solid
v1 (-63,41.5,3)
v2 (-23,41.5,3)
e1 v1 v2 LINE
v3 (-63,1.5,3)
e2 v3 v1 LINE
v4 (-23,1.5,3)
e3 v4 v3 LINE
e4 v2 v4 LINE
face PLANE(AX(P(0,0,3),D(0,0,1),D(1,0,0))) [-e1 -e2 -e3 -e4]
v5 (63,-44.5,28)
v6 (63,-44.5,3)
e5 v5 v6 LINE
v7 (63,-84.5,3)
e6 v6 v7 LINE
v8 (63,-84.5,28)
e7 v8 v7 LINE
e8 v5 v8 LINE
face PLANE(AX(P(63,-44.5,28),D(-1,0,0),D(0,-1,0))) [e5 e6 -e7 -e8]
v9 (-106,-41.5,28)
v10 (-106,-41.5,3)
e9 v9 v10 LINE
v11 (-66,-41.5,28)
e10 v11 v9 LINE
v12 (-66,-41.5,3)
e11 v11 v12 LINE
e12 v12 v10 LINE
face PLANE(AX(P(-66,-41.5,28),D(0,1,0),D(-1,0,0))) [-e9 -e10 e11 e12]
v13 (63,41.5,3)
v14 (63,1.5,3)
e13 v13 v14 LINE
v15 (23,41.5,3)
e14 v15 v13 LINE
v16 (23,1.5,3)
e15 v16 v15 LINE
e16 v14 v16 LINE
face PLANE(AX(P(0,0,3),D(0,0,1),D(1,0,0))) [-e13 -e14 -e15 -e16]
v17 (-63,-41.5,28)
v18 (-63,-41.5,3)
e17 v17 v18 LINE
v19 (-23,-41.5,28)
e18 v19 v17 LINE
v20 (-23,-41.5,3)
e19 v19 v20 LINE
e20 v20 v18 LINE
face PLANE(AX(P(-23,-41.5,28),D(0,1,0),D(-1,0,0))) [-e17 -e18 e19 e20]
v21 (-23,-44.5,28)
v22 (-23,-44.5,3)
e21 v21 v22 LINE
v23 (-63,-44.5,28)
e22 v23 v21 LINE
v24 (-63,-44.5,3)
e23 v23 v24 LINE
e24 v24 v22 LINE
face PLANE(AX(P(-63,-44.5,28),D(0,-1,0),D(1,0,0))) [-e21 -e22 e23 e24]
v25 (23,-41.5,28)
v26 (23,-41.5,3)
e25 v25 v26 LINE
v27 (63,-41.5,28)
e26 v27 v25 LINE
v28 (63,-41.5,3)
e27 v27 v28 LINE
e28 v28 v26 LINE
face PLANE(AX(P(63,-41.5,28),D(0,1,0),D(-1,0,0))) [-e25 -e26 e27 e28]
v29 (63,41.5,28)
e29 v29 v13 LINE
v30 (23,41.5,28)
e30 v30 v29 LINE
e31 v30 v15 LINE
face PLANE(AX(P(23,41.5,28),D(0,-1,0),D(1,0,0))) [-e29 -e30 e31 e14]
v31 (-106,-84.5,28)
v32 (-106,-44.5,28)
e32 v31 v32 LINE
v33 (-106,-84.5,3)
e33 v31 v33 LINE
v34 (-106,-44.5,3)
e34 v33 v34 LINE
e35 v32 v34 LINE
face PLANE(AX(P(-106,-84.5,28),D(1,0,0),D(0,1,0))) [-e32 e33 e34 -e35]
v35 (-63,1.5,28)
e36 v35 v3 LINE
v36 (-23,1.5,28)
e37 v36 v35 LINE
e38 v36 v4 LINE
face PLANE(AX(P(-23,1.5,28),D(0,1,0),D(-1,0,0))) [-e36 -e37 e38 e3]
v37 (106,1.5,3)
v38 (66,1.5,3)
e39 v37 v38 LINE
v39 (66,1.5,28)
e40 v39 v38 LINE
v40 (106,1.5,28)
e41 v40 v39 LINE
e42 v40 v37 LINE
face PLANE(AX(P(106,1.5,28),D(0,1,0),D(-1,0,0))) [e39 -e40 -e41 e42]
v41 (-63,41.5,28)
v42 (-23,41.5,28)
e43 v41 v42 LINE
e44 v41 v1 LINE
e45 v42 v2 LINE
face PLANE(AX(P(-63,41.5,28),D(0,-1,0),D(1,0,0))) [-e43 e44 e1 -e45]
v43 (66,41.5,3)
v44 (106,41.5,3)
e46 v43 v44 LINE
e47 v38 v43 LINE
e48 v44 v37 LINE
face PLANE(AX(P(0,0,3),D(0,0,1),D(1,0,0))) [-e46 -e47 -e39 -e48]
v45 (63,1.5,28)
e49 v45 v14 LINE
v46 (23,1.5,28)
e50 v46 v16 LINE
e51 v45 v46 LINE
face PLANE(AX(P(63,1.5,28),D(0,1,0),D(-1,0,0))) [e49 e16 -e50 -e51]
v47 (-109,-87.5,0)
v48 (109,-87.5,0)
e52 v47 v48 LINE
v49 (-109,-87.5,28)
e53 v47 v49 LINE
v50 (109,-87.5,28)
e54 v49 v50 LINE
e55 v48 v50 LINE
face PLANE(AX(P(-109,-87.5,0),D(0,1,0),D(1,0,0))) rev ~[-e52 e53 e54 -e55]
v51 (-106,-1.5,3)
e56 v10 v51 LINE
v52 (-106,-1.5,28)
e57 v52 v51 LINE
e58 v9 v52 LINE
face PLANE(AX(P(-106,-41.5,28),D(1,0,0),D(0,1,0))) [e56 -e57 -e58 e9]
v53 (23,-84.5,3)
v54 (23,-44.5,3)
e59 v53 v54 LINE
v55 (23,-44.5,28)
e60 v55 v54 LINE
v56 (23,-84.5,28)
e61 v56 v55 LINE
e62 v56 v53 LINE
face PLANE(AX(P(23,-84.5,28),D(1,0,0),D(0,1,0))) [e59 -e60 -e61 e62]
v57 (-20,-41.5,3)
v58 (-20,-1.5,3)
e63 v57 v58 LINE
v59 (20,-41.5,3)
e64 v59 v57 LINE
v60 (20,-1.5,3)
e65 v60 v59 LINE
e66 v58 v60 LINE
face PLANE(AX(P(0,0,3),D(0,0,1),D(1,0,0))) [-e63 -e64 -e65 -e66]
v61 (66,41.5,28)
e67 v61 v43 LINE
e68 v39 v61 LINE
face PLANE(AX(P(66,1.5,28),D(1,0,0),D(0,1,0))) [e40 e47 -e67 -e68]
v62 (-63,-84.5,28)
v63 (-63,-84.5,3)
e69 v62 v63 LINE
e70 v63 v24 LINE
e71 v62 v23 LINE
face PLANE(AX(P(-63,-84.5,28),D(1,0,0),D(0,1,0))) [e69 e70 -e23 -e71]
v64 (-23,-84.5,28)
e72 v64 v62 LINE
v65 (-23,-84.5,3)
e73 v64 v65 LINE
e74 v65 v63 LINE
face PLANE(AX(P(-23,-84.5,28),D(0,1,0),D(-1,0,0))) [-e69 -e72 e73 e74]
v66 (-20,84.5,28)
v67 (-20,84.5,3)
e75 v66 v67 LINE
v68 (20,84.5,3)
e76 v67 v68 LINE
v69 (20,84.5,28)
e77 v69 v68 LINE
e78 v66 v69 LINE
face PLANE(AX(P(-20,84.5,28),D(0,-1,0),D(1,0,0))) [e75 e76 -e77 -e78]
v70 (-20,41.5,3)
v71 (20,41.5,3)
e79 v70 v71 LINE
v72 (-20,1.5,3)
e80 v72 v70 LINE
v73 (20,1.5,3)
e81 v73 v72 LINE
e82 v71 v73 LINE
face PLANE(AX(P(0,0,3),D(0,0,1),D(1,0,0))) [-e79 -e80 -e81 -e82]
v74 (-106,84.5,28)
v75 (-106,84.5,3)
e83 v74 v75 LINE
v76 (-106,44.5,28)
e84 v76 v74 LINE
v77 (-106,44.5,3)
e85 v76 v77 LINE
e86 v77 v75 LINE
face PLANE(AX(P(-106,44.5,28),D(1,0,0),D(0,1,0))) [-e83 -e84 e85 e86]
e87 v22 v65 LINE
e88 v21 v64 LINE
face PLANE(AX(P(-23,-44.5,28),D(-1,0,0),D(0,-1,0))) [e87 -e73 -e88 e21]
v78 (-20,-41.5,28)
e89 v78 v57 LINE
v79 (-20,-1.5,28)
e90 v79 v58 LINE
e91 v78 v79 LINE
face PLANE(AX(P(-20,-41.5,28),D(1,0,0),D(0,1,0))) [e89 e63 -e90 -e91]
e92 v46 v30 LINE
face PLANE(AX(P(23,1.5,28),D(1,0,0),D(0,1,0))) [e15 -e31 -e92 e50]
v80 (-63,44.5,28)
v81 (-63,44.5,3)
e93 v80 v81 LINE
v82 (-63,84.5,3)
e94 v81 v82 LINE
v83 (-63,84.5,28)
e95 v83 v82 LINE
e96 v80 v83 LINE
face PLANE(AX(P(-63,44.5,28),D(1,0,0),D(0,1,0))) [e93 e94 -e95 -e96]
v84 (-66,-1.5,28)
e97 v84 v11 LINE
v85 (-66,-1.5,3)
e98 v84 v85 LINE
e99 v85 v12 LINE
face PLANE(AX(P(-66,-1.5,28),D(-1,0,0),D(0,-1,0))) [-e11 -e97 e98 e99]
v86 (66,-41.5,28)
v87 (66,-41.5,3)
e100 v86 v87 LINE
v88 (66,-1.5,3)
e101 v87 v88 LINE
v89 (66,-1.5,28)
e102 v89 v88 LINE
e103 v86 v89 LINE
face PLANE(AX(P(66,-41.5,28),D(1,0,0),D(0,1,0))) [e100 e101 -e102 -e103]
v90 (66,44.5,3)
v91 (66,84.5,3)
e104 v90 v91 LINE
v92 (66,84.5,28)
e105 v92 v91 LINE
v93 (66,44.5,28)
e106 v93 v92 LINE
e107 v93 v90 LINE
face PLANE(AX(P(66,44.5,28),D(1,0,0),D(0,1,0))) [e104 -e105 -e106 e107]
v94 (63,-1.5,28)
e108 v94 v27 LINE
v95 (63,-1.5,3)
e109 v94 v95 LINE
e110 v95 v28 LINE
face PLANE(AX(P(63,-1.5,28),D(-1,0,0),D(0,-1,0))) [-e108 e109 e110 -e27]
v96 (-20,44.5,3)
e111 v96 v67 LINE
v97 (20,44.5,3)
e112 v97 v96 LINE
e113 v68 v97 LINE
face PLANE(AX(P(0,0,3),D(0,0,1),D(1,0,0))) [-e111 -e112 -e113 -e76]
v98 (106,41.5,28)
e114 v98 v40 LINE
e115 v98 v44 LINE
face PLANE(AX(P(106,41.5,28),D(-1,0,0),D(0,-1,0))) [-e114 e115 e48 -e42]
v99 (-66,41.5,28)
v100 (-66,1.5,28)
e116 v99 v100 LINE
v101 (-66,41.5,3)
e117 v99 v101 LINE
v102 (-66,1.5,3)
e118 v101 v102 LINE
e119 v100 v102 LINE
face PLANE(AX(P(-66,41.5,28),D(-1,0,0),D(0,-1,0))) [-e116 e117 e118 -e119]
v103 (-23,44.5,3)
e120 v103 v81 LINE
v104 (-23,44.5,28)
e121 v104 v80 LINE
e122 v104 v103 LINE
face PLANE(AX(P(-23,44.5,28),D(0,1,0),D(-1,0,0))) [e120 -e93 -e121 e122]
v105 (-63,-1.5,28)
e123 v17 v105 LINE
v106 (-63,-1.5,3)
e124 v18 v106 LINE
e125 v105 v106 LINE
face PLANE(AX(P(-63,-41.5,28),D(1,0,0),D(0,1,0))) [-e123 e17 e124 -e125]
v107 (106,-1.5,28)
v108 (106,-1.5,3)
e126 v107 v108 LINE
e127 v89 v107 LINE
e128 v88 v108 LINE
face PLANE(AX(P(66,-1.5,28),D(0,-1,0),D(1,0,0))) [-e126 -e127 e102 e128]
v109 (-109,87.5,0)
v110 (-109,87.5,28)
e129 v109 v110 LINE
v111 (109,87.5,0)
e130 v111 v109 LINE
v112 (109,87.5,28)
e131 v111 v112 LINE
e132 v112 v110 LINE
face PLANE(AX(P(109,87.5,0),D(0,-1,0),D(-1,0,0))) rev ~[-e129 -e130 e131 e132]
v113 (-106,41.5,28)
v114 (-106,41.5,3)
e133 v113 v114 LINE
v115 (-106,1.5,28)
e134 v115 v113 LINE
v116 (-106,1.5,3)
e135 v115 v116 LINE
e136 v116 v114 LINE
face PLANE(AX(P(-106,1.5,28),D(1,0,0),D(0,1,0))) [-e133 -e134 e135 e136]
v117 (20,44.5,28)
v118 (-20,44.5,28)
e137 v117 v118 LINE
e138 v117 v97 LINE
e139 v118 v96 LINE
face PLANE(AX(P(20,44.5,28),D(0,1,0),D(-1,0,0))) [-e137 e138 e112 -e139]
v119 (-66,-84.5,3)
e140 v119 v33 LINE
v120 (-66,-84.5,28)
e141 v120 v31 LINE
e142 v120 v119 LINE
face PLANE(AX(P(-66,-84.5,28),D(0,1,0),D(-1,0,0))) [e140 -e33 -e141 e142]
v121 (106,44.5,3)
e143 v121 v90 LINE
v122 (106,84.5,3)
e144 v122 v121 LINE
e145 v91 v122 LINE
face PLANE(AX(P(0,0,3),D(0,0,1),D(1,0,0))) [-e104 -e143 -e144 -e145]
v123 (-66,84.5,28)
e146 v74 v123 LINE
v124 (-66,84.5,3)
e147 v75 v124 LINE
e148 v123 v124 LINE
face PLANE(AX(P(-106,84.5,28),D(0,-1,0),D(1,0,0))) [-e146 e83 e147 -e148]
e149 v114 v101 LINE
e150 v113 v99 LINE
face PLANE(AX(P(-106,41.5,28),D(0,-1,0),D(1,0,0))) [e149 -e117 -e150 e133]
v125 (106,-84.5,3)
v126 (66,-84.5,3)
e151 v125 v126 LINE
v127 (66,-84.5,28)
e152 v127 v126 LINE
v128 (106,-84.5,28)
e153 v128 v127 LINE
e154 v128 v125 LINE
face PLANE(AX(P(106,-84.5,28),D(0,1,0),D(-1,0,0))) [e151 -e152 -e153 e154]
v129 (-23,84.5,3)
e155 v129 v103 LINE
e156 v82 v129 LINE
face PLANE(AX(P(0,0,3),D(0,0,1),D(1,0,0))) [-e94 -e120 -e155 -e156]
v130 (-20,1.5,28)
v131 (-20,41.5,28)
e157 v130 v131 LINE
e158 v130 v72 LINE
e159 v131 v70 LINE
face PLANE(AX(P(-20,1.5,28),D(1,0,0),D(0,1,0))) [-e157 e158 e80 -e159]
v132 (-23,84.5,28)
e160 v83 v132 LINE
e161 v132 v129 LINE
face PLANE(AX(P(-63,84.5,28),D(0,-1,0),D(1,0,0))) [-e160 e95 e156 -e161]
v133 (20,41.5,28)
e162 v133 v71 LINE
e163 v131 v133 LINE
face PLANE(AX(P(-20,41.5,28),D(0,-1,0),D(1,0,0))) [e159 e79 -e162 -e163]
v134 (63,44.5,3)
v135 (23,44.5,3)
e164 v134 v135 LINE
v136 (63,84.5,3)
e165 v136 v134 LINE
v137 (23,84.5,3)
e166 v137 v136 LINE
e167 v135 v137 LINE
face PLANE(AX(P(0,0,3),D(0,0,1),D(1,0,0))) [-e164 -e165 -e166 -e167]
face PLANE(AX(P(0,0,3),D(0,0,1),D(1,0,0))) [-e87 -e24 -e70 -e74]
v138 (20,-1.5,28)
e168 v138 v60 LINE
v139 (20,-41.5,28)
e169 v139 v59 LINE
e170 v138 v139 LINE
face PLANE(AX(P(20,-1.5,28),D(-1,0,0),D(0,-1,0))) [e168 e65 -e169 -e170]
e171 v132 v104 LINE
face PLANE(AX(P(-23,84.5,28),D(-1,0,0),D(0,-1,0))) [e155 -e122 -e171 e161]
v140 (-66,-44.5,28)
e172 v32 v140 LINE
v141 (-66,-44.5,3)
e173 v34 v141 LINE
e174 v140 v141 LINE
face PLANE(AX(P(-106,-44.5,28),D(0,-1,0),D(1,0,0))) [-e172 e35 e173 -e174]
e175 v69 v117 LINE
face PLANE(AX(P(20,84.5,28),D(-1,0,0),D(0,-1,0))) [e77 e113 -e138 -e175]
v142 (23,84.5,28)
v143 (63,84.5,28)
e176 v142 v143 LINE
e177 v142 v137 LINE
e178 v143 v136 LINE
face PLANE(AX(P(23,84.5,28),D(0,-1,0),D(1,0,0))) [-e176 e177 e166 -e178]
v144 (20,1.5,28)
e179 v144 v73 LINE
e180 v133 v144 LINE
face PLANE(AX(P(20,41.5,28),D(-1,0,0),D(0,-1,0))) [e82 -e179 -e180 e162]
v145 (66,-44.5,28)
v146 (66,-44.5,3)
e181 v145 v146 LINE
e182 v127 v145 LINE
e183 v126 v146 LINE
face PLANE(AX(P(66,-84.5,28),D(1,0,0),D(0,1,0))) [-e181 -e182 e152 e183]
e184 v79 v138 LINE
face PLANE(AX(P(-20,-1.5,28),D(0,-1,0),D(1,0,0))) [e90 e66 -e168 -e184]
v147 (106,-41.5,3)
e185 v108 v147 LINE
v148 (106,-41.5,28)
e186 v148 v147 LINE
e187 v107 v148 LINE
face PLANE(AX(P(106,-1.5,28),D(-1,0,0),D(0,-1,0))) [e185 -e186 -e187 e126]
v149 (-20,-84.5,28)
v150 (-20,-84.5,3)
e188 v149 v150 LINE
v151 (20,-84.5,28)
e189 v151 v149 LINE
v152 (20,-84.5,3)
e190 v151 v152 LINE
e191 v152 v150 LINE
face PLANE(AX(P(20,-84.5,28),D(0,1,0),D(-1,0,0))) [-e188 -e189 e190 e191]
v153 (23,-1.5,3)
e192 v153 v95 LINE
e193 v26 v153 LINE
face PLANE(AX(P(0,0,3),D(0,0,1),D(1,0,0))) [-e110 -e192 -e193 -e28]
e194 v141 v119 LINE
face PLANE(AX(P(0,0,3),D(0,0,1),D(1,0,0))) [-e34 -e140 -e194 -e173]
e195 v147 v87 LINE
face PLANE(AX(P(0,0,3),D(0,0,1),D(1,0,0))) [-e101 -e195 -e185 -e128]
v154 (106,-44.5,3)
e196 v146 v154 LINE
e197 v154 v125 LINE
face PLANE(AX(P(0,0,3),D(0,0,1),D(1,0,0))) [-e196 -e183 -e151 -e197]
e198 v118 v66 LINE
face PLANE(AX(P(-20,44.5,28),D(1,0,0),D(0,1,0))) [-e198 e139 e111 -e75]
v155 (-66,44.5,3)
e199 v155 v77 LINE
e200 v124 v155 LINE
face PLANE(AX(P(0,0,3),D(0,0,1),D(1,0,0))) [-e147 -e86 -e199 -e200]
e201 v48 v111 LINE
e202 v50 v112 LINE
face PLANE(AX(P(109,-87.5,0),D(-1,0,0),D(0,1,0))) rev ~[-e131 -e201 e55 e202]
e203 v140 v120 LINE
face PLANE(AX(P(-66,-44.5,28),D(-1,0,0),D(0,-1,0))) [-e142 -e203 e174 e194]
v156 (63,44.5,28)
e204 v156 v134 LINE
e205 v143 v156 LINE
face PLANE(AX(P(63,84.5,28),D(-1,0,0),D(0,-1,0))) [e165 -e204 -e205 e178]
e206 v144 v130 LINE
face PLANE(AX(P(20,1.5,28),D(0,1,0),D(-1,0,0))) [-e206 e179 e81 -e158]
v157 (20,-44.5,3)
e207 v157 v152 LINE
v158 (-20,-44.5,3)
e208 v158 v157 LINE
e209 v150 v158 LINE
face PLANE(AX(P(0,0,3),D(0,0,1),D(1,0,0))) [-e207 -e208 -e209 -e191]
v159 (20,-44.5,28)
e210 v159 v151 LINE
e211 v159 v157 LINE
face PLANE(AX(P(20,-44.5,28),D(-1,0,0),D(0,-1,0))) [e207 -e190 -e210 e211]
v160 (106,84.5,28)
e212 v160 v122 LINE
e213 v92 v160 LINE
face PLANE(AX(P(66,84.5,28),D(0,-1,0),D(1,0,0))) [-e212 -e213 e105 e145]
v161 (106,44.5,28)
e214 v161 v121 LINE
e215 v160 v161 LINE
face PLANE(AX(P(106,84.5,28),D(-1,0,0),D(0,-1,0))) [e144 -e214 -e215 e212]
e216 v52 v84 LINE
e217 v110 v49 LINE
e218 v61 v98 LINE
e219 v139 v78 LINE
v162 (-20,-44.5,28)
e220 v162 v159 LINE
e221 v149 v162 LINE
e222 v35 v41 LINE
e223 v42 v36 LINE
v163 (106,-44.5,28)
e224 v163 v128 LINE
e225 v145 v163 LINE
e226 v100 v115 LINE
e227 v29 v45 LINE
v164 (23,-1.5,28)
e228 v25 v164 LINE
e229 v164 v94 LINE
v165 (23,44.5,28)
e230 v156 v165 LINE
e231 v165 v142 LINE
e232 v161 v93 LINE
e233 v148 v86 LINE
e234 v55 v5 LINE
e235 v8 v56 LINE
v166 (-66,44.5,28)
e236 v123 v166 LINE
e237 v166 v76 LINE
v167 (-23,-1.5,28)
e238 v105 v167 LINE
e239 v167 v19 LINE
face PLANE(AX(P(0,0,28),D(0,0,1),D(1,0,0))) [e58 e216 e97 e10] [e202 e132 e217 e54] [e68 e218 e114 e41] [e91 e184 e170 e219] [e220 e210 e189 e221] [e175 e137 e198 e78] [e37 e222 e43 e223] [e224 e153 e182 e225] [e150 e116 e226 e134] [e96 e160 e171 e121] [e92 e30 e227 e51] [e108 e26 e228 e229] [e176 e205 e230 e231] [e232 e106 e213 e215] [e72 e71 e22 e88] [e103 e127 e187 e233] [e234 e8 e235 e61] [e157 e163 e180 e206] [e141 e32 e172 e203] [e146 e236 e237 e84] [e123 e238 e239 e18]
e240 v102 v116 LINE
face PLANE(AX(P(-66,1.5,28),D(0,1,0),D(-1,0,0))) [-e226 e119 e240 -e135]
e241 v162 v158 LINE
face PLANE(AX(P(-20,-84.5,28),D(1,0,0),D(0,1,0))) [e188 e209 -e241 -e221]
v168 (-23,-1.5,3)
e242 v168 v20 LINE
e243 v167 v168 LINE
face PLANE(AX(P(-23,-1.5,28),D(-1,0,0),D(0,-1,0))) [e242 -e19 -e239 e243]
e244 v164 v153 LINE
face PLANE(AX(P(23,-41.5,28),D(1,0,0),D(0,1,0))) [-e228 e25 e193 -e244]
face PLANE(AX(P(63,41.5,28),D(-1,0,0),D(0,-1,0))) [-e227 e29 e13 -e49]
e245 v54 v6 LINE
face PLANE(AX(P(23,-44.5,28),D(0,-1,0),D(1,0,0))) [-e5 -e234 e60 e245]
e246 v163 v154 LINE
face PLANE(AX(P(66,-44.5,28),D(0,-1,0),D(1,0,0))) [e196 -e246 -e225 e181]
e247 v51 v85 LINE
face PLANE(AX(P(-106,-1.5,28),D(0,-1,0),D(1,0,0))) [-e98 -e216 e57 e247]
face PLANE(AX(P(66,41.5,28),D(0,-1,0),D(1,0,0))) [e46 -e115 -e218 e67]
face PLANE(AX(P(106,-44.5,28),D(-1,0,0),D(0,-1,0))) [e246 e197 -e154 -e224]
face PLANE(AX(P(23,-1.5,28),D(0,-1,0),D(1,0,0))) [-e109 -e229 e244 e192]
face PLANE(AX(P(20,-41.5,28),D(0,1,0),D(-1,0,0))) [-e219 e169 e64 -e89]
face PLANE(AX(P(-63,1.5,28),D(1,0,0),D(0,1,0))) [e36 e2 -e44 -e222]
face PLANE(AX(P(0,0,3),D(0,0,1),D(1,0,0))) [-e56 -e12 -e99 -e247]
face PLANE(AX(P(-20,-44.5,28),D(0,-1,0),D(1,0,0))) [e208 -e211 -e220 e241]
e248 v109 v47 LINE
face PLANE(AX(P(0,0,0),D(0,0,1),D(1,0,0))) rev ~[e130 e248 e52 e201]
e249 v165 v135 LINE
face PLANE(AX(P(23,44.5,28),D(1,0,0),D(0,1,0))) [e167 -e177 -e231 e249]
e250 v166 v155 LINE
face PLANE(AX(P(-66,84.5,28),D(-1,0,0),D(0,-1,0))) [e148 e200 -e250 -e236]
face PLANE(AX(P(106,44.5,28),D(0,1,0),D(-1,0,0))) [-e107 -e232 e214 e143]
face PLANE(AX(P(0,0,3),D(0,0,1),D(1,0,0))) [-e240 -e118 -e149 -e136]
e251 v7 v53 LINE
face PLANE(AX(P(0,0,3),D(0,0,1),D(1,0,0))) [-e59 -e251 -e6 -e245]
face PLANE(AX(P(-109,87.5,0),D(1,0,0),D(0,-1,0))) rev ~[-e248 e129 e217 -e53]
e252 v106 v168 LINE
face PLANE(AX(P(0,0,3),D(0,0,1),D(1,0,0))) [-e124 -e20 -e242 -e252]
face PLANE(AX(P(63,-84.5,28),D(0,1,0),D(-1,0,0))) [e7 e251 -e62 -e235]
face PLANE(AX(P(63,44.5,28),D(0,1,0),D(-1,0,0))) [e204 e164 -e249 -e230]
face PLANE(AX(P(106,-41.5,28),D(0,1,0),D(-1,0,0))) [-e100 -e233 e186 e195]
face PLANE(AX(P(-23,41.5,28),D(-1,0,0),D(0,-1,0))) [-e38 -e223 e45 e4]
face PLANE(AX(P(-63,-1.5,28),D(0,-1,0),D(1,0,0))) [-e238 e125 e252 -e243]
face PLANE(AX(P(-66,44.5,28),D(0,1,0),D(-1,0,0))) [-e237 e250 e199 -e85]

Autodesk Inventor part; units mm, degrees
ref_plane "YZ Plane" through (0, 0, 0) normal (1, 0, 0) x (0, 1, 0)
ref_plane "XZ Plane" through (0, 0, 0) normal (0, 1, 0) x (-1, 0, 0)
ref_plane "XY Plane" through (0, 0, 0) normal (0, 0, 1) x (1, 0, 0)
sketch "Sketch1" plane through (0, 0, 0) normal (0, 0, 1) x (1, 0, 0)
  line L0 (-109, -87.5) -> (109, -87.5)
  line L1 (109, -87.5) -> (109, 87.5)
  line L2 (109, 87.5) -> (-109, 87.5)
  line L3 (-109, 87.5) -> (-109, -87.5)
  line L4 (-109, -87.5) -> (109, 87.5) construction
  line L5 (109, -87.5) -> (-109, 87.5) construction
  point P0 (0, 0)
  dimension "d0" = 218
  dimension "d1" = 175
extrude "Extrusion1" add sketch "Sketch1" along normal blind 28
sketch "Sketch2" plane through (0, 0, 28) normal (0, 0, 1) x (1, 0, 0)
  line L0 (-106, 84.5) -> (-66, 84.5)
  line L1 (-66, 84.5) -> (-66, 44.5)
  line L2 (-66, 44.5) -> (-106, 44.5)
  line L3 (-106, 44.5) -> (-106, 84.5)
  line L4 (-106, 84.5) -> (-66, 44.5) construction
  line L5 (-66, 84.5) -> (-106, 44.5) construction
  line L6 (109, 87.5) -> (-109, 87.5) projected
  line L7 (-109, 87.5) -> (-109, -87.5) projected
  line L8 (-63, 84.5) -> (-23, 84.5)
  line L9 (-23, 84.5) -> (-23, 44.5)
  line L10 (-23, 44.5) -> (-63, 44.5)
  line L11 (-63, 44.5) -> (-63, 84.5)
  line L12 (-63, 84.5) -> (-23, 44.5) construction
  line L13 (-23, 84.5) -> (-63, 44.5) construction
  line L14 (-20, 84.5) -> (20, 84.5)
  line L15 (20, 84.5) -> (20, 44.5)
  line L16 (20, 44.5) -> (-20, 44.5)
  line L17 (-20, 44.5) -> (-20, 84.5)
  line L18 (-20, 84.5) -> (20, 44.5) construction
  line L19 (20, 84.5) -> (-20, 44.5) construction
  line L20 (23, 84.5) -> (63, 84.5)
  line L21 (63, 84.5) -> (63, 44.5)
  line L22 (63, 44.5) -> (23, 44.5)
  line L23 (23, 44.5) -> (23, 84.5)
  line L24 (23, 84.5) -> (63, 44.5) construction
  line L25 (63, 84.5) -> (23, 44.5) construction
  line L26 (66, 84.5) -> (106, 84.5)
  line L27 (106, 84.5) -> (106, 44.5)
  line L28 (106, 44.5) -> (66, 44.5)
  line L29 (66, 44.5) -> (66, 84.5)
  line L30 (66, 84.5) -> (106, 44.5) construction
  line L31 (106, 84.5) -> (66, 44.5) construction
  line L32 (-106, 41.5) -> (-66, 41.5)
  line L33 (-66, 41.5) -> (-66, 1.5)
  line L34 (-66, 1.5) -> (-106, 1.5)
  line L35 (-106, 1.5) -> (-106, 41.5)
  line L36 (-106, 41.5) -> (-66, 1.5) construction
  line L37 (-66, 41.5) -> (-106, 1.5) construction
  line L38 (-63, 41.5) -> (-23, 41.5)
  line L39 (-23, 41.5) -> (-23, 1.5)
  line L40 (-23, 1.5) -> (-63, 1.5)
  line L41 (-63, 1.5) -> (-63, 41.5)
  line L42 (-63, 41.5) -> (-23, 1.5) construction
  line L43 (-23, 41.5) -> (-63, 1.5) construction
  line L44 (-20, 41.5) -> (20, 41.5)
  line L45 (20, 41.5) -> (20, 1.5)
  line L46 (20, 1.5) -> (-20, 1.5)
  line L47 (-20, 1.5) -> (-20, 41.5)
  line L48 (-20, 41.5) -> (20, 1.5) construction
  line L49 (20, 41.5) -> (-20, 1.5) construction
  line L50 (23, 41.5) -> (63, 41.5)
  line L51 (63, 41.5) -> (63, 1.5)
  line L52 (63, 1.5) -> (23, 1.5)
  line L53 (23, 1.5) -> (23, 41.5)
  line L54 (23, 41.5) -> (63, 1.5) construction
  line L55 (63, 41.5) -> (23, 1.5) construction
  line L56 (66, 41.5) -> (106, 41.5)
  line L57 (106, 41.5) -> (106, 1.5)
  line L58 (106, 1.5) -> (66, 1.5)
  line L59 (66, 1.5) -> (66, 41.5)
  line L60 (66, 41.5) -> (106, 1.5) construction
  line L61 (106, 41.5) -> (66, 1.5) construction
  line L62 (-106, -1.5) -> (-66, -1.5)
  line L63 (-66, -1.5) -> (-66, -41.5)
  line L64 (-66, -41.5) -> (-106, -41.5)
  line L65 (-106, -41.5) -> (-106, -1.5)
  line L66 (-106, -1.5) -> (-66, -41.5) construction
  line L67 (-66, -1.5) -> (-106, -41.5) construction
  line L68 (-63, -1.5) -> (-23, -1.5)
  line L69 (-23, -1.5) -> (-23, -41.5)
  line L70 (-23, -41.5) -> (-63, -41.5)
  line L71 (-63, -41.5) -> (-63, -1.5)
  line L72 (-63, -1.5) -> (-23, -41.5) construction
  line L73 (-23, -1.5) -> (-63, -41.5) construction
  line L74 (-20, -1.5) -> (20, -1.5)
  line L75 (20, -1.5) -> (20, -41.5)
  line L76 (20, -41.5) -> (-20, -41.5)
  line L77 (-20, -41.5) -> (-20, -1.5)
  line L78 (-20, -1.5) -> (20, -41.5) construction
  line L79 (20, -1.5) -> (-20, -41.5) construction
  line L80 (23, -1.5) -> (63, -1.5)
  line L81 (63, -1.5) -> (63, -41.5)
  line L82 (63, -41.5) -> (23, -41.5)
  line L83 (23, -41.5) -> (23, -1.5)
  line L84 (23, -1.5) -> (63, -41.5) construction
  line L85 (63, -1.5) -> (23, -41.5) construction
  line L86 (66, -1.5) -> (106, -1.5)
  line L87 (106, -1.5) -> (106, -41.5)
  line L88 (106, -41.5) -> (66, -41.5)
  line L89 (66, -41.5) -> (66, -1.5)
  line L90 (66, -1.5) -> (106, -41.5) construction
  line L91 (106, -1.5) -> (66, -41.5) construction
  line L92 (-106, -44.5) -> (-66, -44.5)
  line L93 (-66, -44.5) -> (-66, -84.5)
  line L94 (-66, -84.5) -> (-106, -84.5)
  line L95 (-106, -84.5) -> (-106, -44.5)
  line L96 (-106, -44.5) -> (-66, -84.5) construction
  line L97 (-66, -44.5) -> (-106, -84.5) construction
  line L98 (-63, -44.5) -> (-23, -44.5)
  line L99 (-23, -44.5) -> (-23, -84.5)
  line L100 (-23, -84.5) -> (-63, -84.5)
  line L101 (-63, -84.5) -> (-63, -44.5)
  line L102 (-63, -44.5) -> (-23, -84.5) construction
  line L103 (-23, -44.5) -> (-63, -84.5) construction
  line L104 (-20, -44.5) -> (20, -44.5)
  line L105 (20, -44.5) -> (20, -84.5)
  line L106 (20, -84.5) -> (-20, -84.5)
  line L107 (-20, -84.5) -> (-20, -44.5)
  line L108 (-20, -44.5) -> (20, -84.5) construction
  line L109 (20, -44.5) -> (-20, -84.5) construction
  line L110 (23, -44.5) -> (63, -44.5)
  line L111 (63, -44.5) -> (63, -84.5)
  line L112 (63, -84.5) -> (23, -84.5)
  line L113 (23, -84.5) -> (23, -44.5)
  line L114 (23, -44.5) -> (63, -84.5) construction
  line L115 (63, -44.5) -> (23, -84.5) construction
  line L116 (66, -44.5) -> (106, -44.5)
  line L117 (106, -44.5) -> (106, -84.5)
  line L118 (106, -84.5) -> (66, -84.5)
  line L119 (66, -84.5) -> (66, -44.5)
  line L120 (66, -44.5) -> (106, -84.5) construction
  line L121 (106, -44.5) -> (66, -84.5) construction
  point P0 (0, 0)
  point P1 (-86, 64.5)
  point P2 (-43, 64.5)
  point P3 (0, 64.5)
  point P4 (43, 64.5)
  point P5 (86, 64.5)
  point P6 (-86, 21.5)
  point P7 (-43, 21.5)
  point P8 (0, 21.5)
  point P9 (43, 21.5)
  point P10 (86, 21.5)
  point P11 (-86, -21.5)
  point P12 (-43, -21.5)
  point P13 (0, -21.5)
  point P14 (43, -21.5)
  point P15 (86, -21.5)
  point P16 (-86, -64.5)
  point P17 (-43, -64.5)
  point P18 (0, -64.5)
  point P19 (43, -64.5)
  point P20 (86, -64.5)
  dimension "d4" = 40
  dimension "d5" = 3
  dimension "d6" = 3
  dimension "d7" = 40
  dimension "d10" = 43
  dimension "d13" = 43
extrude "Extrusion2" cut sketch "Sketch2" against normal blind 25
equation "\"d0\" = box_length"
equation "\"d1\" = box_width"
equation "\"d2\" = hole_height + wall"
equation "\"d4\" = hole"
equation "\"d5\" = wall"
equation "\"d6\" = wall"
equation "\"d7\" = hole"
equation "\"d10\" = hole + wall"
equation "\"d13\" = hole + wall"
equation "\"d16\" = hole_height"
equation "\"hole\" = 40"
equation "\"wall\" = 3"
equation "\"hole_height\" = 25"
equation "\"box_length\" = 218"
equation "\"box_width\" = 175"
properties part number "RatPelletBox_v01"
